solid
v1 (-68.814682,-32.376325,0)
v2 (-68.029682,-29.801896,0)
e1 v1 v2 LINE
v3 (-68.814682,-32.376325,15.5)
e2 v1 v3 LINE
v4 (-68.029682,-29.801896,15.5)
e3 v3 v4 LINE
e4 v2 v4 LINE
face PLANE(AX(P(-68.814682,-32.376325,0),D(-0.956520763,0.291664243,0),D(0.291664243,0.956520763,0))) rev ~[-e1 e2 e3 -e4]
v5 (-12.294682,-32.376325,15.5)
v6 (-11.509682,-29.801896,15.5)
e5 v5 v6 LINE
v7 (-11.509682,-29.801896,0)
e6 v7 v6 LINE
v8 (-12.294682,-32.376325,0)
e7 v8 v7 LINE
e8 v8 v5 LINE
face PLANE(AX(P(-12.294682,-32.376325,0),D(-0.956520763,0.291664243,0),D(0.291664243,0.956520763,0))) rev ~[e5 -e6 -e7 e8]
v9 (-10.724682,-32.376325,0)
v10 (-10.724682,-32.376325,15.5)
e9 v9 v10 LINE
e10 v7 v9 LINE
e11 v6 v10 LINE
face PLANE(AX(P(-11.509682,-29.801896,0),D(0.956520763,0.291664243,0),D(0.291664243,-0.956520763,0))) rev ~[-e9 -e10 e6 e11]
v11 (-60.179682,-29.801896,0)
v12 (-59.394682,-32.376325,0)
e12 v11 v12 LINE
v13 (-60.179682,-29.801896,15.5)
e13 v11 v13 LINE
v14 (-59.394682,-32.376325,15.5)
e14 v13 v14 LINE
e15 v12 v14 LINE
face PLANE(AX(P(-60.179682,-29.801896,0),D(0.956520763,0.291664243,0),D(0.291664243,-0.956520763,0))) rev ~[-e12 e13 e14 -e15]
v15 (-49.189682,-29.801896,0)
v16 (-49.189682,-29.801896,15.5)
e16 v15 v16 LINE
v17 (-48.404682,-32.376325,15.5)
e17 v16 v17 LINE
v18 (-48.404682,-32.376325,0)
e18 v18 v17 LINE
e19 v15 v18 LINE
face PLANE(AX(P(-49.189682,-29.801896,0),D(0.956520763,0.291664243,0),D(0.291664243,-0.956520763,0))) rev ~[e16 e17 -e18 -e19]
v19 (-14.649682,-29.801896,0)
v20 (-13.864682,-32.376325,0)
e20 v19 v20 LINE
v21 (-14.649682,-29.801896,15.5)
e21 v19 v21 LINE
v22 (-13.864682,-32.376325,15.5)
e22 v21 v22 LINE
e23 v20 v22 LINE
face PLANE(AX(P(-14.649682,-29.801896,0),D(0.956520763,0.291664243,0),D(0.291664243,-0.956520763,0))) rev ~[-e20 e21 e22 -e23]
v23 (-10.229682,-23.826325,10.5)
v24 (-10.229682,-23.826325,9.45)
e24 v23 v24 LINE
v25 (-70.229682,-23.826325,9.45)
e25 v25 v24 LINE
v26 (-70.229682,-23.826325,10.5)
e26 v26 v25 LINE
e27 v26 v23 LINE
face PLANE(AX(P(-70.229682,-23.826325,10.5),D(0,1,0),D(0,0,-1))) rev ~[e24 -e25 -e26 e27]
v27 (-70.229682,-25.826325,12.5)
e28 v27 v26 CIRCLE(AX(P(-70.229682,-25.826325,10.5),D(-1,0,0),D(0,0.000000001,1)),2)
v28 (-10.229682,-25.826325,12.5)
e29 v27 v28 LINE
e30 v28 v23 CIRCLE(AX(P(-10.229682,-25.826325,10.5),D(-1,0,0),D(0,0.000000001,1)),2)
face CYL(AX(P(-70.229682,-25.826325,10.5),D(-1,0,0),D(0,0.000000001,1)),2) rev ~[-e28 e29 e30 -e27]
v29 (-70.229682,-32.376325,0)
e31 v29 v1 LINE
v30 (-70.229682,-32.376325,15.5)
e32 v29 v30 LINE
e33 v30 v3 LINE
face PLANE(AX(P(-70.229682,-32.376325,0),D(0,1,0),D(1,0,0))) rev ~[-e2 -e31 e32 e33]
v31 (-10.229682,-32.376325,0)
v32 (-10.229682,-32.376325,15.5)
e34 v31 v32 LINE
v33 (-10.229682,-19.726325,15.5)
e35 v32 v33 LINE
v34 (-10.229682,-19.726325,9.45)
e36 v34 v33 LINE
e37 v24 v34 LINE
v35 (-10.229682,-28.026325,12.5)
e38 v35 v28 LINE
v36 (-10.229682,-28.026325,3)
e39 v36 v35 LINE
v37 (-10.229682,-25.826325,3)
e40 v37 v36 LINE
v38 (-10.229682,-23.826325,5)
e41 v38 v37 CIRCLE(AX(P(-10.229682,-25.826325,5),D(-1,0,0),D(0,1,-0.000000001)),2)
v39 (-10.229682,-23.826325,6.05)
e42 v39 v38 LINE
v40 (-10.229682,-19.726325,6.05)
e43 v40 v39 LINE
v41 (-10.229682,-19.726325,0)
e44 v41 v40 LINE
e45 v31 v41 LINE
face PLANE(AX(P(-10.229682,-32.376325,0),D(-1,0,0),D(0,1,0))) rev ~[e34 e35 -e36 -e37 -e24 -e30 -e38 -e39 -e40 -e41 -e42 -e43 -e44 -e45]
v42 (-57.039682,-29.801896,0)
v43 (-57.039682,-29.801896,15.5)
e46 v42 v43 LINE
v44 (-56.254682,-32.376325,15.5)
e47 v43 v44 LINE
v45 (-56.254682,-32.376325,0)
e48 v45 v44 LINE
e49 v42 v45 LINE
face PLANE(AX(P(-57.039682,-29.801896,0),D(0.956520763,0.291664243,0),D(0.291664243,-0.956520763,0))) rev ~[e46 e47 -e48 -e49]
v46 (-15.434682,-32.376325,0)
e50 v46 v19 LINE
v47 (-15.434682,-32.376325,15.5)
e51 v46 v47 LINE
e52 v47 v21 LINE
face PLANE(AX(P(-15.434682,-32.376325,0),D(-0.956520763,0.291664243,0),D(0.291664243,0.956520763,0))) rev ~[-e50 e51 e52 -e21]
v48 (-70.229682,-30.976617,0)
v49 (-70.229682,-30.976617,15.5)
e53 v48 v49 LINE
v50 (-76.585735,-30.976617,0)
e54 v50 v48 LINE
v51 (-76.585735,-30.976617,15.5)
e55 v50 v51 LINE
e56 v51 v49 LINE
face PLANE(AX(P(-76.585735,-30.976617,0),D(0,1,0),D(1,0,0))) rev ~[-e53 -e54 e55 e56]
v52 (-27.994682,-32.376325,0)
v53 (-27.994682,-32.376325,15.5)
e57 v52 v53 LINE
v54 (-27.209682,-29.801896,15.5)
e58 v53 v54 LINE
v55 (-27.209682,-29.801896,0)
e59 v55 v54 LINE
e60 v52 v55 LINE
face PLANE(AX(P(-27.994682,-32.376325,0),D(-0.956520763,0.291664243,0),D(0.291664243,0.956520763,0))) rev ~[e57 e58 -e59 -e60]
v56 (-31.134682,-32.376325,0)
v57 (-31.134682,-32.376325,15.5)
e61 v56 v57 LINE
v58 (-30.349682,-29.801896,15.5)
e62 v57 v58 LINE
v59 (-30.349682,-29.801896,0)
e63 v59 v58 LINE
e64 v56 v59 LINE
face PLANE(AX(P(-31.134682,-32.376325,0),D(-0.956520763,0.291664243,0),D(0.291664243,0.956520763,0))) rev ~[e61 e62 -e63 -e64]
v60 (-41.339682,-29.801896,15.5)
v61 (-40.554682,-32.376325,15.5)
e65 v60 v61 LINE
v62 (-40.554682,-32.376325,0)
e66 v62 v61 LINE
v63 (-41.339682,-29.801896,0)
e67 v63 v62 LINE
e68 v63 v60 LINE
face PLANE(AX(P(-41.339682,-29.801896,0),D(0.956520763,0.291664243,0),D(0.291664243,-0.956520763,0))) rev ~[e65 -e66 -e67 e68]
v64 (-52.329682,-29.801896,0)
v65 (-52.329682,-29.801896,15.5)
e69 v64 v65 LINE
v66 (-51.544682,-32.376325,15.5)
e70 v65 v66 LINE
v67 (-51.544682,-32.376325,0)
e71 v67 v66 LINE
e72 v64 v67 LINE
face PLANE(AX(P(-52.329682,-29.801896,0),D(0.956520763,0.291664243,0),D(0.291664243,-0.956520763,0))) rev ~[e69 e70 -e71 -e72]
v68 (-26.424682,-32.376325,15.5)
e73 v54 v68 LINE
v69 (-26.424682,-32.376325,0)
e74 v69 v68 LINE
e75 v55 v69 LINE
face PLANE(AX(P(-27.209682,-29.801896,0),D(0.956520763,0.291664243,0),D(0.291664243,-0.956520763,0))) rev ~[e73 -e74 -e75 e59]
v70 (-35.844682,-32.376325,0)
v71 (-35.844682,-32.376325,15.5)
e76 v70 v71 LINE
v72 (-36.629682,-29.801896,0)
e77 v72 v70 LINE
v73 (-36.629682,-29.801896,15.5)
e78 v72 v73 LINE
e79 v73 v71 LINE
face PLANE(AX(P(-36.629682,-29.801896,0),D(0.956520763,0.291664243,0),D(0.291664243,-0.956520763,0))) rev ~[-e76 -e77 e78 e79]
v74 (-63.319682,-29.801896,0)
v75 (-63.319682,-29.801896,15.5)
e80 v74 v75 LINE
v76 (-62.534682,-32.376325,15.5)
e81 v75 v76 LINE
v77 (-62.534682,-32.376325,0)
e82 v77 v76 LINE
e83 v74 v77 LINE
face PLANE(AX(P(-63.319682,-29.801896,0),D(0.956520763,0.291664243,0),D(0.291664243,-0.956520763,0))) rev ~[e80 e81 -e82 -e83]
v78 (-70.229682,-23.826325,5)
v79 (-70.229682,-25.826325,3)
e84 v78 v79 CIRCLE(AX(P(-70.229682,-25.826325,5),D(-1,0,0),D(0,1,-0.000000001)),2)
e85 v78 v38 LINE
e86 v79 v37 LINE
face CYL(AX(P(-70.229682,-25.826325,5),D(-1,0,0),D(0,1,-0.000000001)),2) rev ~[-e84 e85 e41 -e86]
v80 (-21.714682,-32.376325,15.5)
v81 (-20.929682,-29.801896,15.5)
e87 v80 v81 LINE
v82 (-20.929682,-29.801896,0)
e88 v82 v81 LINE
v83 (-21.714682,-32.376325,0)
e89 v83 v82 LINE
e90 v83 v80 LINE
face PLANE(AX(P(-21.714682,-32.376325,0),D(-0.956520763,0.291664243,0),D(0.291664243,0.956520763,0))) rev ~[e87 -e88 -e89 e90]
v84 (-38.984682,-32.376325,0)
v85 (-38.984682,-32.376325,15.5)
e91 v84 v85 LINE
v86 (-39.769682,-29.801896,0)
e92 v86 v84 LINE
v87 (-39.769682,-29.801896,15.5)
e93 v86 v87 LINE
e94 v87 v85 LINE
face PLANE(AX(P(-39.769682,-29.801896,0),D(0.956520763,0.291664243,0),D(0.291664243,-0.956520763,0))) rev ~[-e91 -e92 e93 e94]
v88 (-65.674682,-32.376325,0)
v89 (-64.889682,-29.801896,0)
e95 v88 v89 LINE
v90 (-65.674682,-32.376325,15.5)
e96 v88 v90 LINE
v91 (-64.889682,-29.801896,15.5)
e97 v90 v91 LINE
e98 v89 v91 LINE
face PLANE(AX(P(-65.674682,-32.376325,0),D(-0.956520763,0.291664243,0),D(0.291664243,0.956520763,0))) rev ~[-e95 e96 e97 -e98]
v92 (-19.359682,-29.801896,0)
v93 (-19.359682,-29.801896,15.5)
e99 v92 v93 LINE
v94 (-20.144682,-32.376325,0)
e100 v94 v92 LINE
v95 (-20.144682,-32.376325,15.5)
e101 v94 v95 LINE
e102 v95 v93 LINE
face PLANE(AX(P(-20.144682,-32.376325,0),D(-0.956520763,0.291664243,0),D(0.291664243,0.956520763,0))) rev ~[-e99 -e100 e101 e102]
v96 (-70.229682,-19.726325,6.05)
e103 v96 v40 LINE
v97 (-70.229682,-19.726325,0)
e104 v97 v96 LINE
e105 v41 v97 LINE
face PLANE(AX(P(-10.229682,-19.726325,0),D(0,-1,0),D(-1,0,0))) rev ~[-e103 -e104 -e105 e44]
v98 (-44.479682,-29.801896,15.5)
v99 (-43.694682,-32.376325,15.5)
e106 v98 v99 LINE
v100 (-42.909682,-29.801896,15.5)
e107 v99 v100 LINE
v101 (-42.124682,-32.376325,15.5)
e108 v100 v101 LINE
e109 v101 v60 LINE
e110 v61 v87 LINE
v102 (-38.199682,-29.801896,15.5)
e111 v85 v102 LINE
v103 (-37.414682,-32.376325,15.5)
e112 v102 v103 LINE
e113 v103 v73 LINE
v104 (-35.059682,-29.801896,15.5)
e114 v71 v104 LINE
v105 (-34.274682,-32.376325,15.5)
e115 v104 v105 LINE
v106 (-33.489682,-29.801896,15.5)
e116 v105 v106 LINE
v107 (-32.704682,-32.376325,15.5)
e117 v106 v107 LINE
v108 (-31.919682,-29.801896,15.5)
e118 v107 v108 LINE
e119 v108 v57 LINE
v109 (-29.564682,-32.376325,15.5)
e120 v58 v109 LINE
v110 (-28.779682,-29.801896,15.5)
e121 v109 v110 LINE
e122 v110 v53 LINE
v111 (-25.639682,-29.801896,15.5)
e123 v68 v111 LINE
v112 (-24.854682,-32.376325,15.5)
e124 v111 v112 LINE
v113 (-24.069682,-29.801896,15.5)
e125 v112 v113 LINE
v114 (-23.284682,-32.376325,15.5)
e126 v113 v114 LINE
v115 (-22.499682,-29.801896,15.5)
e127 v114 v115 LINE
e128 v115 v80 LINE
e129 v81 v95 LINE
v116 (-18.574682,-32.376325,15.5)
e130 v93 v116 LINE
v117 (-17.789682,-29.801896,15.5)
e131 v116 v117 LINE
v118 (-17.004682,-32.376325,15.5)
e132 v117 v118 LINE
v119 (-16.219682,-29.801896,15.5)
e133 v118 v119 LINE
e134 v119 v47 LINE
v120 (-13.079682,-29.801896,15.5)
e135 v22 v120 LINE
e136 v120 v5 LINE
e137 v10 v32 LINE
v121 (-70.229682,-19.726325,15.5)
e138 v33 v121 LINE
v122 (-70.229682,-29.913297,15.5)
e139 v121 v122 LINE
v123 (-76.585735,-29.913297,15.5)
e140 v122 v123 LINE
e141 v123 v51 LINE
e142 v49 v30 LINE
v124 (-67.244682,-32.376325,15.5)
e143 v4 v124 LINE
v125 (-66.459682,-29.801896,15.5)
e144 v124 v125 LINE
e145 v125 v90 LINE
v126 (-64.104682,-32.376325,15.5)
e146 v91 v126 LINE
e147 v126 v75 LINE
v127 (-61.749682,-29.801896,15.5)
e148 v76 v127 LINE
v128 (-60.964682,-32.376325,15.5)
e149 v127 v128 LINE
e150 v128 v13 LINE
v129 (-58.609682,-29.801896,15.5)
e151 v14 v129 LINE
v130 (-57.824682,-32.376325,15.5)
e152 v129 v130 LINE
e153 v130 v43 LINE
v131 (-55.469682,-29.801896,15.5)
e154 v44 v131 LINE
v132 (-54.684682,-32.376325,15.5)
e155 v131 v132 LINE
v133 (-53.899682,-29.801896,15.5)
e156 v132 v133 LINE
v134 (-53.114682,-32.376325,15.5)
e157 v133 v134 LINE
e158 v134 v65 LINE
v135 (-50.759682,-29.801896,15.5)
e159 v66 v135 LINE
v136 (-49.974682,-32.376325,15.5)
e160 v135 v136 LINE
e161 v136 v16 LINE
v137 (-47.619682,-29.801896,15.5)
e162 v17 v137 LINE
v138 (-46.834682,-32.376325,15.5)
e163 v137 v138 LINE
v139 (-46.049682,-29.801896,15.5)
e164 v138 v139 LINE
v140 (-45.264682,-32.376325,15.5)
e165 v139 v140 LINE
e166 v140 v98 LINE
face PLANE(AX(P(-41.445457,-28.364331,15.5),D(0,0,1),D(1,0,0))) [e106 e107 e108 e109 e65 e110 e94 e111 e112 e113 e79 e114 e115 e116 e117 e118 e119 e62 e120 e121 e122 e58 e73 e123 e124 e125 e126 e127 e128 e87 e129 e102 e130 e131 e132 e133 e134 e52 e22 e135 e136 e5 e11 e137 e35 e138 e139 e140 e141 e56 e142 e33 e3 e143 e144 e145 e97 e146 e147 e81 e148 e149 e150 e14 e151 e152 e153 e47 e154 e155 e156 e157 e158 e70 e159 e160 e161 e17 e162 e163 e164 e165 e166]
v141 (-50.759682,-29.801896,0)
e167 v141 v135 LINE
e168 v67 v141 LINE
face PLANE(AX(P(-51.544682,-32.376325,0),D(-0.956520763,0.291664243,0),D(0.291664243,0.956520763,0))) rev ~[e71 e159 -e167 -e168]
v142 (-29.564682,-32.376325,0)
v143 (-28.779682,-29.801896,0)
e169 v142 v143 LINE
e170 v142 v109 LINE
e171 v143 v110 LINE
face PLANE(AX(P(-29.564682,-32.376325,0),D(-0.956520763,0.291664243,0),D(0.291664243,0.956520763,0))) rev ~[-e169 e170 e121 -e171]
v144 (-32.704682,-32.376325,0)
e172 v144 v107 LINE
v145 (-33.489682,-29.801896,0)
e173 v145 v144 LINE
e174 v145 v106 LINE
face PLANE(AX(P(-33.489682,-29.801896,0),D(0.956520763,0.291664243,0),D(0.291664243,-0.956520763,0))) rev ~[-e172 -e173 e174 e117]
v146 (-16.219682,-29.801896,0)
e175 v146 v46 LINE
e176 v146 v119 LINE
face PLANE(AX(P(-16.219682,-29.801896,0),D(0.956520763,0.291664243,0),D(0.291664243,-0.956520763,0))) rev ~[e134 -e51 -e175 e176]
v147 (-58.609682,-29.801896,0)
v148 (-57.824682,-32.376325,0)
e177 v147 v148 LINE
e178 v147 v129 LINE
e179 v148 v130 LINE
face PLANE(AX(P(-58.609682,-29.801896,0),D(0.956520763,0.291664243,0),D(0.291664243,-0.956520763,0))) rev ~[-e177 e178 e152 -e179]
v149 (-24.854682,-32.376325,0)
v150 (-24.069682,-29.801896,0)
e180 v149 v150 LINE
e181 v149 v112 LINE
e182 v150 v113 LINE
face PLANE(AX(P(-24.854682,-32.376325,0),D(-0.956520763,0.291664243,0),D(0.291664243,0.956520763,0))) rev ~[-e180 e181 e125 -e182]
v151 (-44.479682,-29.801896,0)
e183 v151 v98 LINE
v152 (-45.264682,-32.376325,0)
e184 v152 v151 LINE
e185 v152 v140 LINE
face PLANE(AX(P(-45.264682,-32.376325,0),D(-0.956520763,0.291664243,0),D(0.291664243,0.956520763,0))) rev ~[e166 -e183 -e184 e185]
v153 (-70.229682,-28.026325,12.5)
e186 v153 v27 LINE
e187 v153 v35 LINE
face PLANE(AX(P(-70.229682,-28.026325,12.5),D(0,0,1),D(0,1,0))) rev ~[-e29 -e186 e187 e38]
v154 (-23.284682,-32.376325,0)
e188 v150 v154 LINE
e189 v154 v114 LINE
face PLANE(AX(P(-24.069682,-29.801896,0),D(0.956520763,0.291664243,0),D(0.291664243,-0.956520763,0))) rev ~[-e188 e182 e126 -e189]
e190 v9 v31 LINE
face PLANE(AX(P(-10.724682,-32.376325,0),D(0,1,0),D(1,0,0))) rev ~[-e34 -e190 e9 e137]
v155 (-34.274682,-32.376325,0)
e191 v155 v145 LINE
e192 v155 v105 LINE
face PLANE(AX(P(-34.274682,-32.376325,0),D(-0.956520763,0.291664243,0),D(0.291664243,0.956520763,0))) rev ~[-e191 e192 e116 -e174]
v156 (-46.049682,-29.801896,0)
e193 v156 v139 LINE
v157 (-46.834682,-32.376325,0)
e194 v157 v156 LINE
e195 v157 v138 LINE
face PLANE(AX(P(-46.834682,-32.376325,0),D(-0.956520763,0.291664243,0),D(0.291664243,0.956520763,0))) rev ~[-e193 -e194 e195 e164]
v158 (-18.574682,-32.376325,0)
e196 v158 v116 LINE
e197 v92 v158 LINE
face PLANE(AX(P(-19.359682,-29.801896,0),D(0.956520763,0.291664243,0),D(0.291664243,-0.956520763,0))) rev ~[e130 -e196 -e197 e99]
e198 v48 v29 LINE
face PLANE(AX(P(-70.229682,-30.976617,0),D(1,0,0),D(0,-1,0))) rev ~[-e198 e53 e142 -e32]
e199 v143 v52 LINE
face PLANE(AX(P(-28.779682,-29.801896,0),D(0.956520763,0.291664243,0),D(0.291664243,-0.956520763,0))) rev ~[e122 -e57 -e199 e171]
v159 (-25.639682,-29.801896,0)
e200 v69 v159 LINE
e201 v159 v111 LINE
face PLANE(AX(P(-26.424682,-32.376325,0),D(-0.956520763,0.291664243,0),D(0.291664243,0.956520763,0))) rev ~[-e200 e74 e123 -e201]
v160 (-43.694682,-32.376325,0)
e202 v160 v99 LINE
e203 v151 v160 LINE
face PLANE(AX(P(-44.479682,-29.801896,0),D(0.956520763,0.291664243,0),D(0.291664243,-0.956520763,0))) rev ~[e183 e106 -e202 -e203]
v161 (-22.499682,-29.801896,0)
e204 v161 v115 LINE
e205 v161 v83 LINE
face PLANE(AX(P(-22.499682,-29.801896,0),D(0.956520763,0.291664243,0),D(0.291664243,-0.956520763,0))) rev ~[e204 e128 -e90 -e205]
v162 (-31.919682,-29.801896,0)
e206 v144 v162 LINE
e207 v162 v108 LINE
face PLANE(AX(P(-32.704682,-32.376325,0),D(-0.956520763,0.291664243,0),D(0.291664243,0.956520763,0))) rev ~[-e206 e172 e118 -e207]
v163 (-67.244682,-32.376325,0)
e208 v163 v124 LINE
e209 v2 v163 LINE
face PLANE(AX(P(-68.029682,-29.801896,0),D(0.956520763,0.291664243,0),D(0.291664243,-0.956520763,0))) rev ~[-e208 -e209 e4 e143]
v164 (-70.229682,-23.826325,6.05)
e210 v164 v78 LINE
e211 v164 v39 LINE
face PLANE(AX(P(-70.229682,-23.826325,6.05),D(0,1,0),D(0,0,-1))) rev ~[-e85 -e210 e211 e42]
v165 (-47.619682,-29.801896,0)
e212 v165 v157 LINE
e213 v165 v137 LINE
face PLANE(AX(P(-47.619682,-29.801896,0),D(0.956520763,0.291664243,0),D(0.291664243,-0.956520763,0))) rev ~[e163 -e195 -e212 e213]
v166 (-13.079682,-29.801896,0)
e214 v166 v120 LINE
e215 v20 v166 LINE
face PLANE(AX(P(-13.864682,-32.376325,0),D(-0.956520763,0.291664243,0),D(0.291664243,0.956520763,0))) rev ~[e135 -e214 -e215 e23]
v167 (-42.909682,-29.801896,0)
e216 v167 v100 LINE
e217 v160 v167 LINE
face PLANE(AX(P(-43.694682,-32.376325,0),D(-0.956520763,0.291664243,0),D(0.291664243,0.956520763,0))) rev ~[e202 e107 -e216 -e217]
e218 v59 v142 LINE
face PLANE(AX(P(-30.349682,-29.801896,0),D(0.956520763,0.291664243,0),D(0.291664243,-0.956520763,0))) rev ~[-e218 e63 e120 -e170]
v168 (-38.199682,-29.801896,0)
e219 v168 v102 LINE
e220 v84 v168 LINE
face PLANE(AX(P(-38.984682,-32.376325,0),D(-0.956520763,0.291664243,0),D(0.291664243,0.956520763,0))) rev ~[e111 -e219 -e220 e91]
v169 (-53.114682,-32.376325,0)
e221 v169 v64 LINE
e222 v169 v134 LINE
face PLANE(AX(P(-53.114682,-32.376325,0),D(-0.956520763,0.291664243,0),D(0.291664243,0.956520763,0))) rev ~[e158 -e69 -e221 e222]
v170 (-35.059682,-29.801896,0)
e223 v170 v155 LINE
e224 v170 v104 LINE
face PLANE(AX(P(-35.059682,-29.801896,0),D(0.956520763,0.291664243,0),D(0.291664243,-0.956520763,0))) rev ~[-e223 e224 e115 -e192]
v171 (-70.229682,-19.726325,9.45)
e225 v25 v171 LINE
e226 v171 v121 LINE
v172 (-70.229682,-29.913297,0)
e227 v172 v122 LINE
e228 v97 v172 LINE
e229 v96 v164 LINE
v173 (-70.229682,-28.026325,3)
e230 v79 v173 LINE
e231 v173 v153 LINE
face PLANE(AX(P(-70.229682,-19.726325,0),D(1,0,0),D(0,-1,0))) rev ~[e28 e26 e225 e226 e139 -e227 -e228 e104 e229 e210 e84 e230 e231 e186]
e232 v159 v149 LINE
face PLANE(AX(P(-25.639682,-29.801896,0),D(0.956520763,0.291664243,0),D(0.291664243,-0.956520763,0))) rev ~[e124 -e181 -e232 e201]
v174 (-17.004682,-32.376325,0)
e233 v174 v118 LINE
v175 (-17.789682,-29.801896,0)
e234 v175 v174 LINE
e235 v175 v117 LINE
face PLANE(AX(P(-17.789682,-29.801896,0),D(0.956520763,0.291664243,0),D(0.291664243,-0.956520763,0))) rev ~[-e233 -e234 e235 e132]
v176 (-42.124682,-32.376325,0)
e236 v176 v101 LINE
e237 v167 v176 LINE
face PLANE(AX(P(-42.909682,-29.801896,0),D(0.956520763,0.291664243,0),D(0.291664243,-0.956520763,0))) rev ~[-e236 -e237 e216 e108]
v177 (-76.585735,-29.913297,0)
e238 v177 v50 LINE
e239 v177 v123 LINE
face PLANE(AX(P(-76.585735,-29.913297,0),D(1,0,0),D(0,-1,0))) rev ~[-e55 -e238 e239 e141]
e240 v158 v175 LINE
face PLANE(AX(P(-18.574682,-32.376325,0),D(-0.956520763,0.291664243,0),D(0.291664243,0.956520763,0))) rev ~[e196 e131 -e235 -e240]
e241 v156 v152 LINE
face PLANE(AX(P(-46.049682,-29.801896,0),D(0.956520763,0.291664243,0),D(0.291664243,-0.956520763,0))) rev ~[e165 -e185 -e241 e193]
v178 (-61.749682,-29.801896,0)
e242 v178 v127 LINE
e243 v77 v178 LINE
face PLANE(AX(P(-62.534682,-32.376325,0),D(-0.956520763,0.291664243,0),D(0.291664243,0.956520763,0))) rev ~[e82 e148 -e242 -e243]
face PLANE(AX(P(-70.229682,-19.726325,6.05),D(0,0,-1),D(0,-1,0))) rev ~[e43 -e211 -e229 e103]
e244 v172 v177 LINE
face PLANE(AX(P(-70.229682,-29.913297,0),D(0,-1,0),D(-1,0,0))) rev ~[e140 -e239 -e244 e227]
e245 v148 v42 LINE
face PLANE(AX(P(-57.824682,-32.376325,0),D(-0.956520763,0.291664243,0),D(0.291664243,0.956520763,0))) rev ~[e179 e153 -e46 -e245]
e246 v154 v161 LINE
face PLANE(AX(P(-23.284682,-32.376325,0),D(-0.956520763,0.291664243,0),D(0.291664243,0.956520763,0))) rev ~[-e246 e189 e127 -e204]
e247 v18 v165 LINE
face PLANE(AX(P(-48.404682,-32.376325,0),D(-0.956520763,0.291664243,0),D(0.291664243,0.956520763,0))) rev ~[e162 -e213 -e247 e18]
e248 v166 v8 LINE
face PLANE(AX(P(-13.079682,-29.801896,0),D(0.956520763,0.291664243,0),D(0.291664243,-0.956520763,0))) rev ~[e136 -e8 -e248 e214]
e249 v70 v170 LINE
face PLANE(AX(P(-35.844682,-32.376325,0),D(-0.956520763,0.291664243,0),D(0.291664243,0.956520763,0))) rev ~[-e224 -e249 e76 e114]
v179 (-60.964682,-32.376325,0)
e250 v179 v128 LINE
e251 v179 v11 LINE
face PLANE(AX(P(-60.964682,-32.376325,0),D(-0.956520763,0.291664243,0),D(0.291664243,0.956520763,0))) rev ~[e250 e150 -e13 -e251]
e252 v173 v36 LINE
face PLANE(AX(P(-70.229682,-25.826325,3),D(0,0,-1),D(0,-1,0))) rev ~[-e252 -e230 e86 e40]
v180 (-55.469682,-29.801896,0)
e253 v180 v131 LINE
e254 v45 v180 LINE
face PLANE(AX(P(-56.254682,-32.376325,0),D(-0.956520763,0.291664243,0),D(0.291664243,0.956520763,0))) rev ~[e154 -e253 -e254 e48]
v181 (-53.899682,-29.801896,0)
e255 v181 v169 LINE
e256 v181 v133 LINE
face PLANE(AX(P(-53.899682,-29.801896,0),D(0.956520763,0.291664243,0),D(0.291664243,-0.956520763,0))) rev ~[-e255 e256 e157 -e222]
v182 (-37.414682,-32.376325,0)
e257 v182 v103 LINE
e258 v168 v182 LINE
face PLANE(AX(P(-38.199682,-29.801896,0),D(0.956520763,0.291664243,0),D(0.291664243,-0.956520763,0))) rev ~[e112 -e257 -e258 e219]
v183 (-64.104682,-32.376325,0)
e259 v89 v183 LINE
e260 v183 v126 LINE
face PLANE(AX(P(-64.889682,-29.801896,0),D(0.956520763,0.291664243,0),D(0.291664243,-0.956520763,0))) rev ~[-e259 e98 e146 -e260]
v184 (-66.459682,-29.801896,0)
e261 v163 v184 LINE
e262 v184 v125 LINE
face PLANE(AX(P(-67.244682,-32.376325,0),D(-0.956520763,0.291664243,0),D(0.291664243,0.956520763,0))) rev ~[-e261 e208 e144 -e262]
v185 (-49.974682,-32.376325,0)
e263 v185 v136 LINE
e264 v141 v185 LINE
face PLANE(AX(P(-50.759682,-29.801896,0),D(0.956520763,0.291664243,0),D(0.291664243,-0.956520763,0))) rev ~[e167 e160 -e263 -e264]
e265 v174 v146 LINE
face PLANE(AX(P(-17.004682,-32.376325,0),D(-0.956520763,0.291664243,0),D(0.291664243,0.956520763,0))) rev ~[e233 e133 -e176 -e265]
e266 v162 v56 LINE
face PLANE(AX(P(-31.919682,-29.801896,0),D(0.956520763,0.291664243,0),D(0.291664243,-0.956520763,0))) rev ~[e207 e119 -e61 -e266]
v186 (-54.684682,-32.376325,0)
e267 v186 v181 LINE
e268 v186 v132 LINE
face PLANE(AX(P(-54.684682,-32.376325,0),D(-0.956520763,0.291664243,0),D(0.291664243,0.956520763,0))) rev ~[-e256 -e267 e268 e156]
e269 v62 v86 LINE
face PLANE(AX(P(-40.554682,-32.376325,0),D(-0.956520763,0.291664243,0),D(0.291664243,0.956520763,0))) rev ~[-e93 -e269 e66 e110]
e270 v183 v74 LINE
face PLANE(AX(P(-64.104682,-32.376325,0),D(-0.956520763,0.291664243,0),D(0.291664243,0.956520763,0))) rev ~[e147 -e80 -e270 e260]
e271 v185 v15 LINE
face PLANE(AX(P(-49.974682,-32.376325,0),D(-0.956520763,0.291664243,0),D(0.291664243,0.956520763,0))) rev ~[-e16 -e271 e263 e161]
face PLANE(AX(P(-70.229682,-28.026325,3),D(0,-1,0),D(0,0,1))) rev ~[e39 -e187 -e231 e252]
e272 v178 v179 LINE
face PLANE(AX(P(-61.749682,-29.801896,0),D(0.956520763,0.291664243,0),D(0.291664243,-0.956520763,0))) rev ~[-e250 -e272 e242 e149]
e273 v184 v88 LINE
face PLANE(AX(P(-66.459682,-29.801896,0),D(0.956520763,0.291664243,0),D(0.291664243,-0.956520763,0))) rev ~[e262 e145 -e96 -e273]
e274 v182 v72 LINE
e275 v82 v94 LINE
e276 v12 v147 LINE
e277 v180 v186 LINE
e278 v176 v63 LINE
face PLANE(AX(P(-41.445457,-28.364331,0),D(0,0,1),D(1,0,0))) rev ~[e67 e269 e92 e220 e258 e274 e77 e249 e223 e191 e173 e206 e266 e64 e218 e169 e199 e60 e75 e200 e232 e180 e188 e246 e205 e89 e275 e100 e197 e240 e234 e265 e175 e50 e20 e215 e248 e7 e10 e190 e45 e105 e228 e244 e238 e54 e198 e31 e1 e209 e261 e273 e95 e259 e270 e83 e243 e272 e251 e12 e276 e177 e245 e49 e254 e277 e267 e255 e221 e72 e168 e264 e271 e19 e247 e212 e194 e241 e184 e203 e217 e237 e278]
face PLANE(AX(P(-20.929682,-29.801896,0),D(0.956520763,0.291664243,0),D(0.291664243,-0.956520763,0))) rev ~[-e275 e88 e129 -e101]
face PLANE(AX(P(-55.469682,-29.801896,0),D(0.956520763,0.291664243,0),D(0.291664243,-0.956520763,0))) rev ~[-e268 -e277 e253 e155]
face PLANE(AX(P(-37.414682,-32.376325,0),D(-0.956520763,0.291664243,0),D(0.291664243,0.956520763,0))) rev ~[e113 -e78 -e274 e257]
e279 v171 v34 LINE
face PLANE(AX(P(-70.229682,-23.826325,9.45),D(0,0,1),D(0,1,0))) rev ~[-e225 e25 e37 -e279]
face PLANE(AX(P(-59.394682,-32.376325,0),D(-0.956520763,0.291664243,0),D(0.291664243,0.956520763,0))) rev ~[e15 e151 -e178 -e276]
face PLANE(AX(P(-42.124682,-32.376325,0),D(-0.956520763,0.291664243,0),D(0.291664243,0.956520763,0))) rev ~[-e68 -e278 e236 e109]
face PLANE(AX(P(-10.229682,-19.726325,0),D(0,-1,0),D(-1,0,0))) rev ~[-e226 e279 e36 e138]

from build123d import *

# Parameters (mm, degrees)
BOSS_EXTRUDE1_DEPTH = 15.5
CUT_EXTRUDE1_DEPTH  = 81.5


with BuildPart() as part:
    # Sketch1 → Boss-Extrude1 (new body)
    with BuildSketch(Plane.XY):
        Polygon((-10.229681979, -19.726325088), (-70.229681979, -19.726325088), (-70.229681979, -29.913296732), (-76.585734932, -29.913296732), (-76.585734932, -30.976616664), (-70.229681979, -30.976616664), (-70.229681979, -32.376325088), (-68.814681979, -32.376325088), (-68.029681979, -29.801896387), (-67.244681979, -32.376325088), (-66.459681979, -29.801896387), (-65.674681979, -32.376325088), (-64.889681979, -29.801896387), (-64.104681979, -32.376325088), (-63.319681979, -29.801896387), (-62.534681979, -32.376325088), (-61.749681979, -29.801896387), (-60.964681979, -32.376325088), (-60.179681979, -29.801896387), (-59.394681979, -32.376325088), (-58.609681979, -29.801896387), (-57.824681979, -32.376325088), (-57.039681979, -29.801896387), (-56.254681979, -32.376325088), (-55.469681979, -29.801896387), (-54.684681979, -32.376325088), (-53.899681979, -29.801896387), (-53.114681979, -32.376325088), (-52.329681979, -29.801896387), (-51.544681979, -32.376325088), (-50.759681979, -29.801896387), (-49.974681979, -32.376325088), (-49.189681979, -29.801896387), (-48.404681979, -32.376325088), (-47.619681979, -29.801896387), (-46.834681979, -32.376325088), (-46.049681979, -29.801896387), (-45.264681979, -32.376325088), (-44.479681979, -29.801896387), (-43.694681979, -32.376325088), (-42.909681979, -29.801896387), (-42.124681979, -32.376325088), (-41.339681979, -29.801896387), (-40.554681979, -32.376325088), (-39.769681979, -29.801896387), (-38.984681979, -32.376325088), (-38.199681979, -29.801896387), (-37.414681979, -32.376325088), (-36.629681979, -29.801896387), (-35.844681979, -32.376325088), (-35.059681979, -29.801896387), (-34.274681979, -32.376325088), (-33.489681979, -29.801896387), (-32.704681979, -32.376325088), (-31.919681979, -29.801896387), (-31.134681979, -32.376325088), (-30.349681979, -29.801896387), (-29.564681979, -32.376325088), (-28.779681979, -29.801896387), (-27.994681979, -32.376325088), (-27.209681979, -29.801896387), (-26.424681979, -32.376325088), (-25.639681979, -29.801896387), (-24.854681979, -32.376325088), (-24.069681979, -29.801896387), (-23.284681979, -32.376325088), (-22.499681979, -29.801896387), (-21.714681979, -32.376325088), (-20.929681979, -29.801896387), (-20.144681979, -32.376325088), (-19.359681979, -29.801896387), (-18.574681979, -32.376325088), (-17.789681979, -29.801896387), (-17.004681979, -32.376325088), (-16.219681979, -29.801896387), (-15.434681979, -32.376325088), (-14.649681979, -29.801896387), (-13.864681979, -32.376325088), (-13.079681979, -29.801896387), (-12.294681979, -32.376325088), (-11.509681979, -29.801896387), (-10.724681979, -32.376325088), (-10.229681979, -32.376325088), align=None)
    extrude(amount=BOSS_EXTRUDE1_DEPTH)

    # Sketch2 → Cut-Extrude1 (cut)
    with BuildSketch(Plane.ZY.offset(70.229681979)):
        with BuildLine():
            Line((6.05, -23.826325088), (5, -23.826325088))
            ThreePointArc((5, -23.826325088), (3.585786438, -24.412111526), (3, -25.826325088))
            Line((3, -25.826325088), (3, -28.026325088))
            Line((3, -28.026325088), (12.5, -28.026325088))
            Line((12.5, -28.026325088), (12.5, -25.826325088))
            ThreePointArc((12.5, -25.826325088), (11.914213562, -24.412111526), (10.5, -23.826325088))
            Line((10.5, -23.826325088), (9.45, -23.826325088))
            Line((9.45, -23.826325088), (9.45, -19.726325088))
            Line((9.45, -19.726325088), (6.05, -19.726325088))
            Line((6.05, -19.726325088), (6.05, -23.826325088))
        make_face()
    extrude(amount=-CUT_EXTRUDE1_DEPTH, mode=Mode.SUBTRACT)


solid = part.part
